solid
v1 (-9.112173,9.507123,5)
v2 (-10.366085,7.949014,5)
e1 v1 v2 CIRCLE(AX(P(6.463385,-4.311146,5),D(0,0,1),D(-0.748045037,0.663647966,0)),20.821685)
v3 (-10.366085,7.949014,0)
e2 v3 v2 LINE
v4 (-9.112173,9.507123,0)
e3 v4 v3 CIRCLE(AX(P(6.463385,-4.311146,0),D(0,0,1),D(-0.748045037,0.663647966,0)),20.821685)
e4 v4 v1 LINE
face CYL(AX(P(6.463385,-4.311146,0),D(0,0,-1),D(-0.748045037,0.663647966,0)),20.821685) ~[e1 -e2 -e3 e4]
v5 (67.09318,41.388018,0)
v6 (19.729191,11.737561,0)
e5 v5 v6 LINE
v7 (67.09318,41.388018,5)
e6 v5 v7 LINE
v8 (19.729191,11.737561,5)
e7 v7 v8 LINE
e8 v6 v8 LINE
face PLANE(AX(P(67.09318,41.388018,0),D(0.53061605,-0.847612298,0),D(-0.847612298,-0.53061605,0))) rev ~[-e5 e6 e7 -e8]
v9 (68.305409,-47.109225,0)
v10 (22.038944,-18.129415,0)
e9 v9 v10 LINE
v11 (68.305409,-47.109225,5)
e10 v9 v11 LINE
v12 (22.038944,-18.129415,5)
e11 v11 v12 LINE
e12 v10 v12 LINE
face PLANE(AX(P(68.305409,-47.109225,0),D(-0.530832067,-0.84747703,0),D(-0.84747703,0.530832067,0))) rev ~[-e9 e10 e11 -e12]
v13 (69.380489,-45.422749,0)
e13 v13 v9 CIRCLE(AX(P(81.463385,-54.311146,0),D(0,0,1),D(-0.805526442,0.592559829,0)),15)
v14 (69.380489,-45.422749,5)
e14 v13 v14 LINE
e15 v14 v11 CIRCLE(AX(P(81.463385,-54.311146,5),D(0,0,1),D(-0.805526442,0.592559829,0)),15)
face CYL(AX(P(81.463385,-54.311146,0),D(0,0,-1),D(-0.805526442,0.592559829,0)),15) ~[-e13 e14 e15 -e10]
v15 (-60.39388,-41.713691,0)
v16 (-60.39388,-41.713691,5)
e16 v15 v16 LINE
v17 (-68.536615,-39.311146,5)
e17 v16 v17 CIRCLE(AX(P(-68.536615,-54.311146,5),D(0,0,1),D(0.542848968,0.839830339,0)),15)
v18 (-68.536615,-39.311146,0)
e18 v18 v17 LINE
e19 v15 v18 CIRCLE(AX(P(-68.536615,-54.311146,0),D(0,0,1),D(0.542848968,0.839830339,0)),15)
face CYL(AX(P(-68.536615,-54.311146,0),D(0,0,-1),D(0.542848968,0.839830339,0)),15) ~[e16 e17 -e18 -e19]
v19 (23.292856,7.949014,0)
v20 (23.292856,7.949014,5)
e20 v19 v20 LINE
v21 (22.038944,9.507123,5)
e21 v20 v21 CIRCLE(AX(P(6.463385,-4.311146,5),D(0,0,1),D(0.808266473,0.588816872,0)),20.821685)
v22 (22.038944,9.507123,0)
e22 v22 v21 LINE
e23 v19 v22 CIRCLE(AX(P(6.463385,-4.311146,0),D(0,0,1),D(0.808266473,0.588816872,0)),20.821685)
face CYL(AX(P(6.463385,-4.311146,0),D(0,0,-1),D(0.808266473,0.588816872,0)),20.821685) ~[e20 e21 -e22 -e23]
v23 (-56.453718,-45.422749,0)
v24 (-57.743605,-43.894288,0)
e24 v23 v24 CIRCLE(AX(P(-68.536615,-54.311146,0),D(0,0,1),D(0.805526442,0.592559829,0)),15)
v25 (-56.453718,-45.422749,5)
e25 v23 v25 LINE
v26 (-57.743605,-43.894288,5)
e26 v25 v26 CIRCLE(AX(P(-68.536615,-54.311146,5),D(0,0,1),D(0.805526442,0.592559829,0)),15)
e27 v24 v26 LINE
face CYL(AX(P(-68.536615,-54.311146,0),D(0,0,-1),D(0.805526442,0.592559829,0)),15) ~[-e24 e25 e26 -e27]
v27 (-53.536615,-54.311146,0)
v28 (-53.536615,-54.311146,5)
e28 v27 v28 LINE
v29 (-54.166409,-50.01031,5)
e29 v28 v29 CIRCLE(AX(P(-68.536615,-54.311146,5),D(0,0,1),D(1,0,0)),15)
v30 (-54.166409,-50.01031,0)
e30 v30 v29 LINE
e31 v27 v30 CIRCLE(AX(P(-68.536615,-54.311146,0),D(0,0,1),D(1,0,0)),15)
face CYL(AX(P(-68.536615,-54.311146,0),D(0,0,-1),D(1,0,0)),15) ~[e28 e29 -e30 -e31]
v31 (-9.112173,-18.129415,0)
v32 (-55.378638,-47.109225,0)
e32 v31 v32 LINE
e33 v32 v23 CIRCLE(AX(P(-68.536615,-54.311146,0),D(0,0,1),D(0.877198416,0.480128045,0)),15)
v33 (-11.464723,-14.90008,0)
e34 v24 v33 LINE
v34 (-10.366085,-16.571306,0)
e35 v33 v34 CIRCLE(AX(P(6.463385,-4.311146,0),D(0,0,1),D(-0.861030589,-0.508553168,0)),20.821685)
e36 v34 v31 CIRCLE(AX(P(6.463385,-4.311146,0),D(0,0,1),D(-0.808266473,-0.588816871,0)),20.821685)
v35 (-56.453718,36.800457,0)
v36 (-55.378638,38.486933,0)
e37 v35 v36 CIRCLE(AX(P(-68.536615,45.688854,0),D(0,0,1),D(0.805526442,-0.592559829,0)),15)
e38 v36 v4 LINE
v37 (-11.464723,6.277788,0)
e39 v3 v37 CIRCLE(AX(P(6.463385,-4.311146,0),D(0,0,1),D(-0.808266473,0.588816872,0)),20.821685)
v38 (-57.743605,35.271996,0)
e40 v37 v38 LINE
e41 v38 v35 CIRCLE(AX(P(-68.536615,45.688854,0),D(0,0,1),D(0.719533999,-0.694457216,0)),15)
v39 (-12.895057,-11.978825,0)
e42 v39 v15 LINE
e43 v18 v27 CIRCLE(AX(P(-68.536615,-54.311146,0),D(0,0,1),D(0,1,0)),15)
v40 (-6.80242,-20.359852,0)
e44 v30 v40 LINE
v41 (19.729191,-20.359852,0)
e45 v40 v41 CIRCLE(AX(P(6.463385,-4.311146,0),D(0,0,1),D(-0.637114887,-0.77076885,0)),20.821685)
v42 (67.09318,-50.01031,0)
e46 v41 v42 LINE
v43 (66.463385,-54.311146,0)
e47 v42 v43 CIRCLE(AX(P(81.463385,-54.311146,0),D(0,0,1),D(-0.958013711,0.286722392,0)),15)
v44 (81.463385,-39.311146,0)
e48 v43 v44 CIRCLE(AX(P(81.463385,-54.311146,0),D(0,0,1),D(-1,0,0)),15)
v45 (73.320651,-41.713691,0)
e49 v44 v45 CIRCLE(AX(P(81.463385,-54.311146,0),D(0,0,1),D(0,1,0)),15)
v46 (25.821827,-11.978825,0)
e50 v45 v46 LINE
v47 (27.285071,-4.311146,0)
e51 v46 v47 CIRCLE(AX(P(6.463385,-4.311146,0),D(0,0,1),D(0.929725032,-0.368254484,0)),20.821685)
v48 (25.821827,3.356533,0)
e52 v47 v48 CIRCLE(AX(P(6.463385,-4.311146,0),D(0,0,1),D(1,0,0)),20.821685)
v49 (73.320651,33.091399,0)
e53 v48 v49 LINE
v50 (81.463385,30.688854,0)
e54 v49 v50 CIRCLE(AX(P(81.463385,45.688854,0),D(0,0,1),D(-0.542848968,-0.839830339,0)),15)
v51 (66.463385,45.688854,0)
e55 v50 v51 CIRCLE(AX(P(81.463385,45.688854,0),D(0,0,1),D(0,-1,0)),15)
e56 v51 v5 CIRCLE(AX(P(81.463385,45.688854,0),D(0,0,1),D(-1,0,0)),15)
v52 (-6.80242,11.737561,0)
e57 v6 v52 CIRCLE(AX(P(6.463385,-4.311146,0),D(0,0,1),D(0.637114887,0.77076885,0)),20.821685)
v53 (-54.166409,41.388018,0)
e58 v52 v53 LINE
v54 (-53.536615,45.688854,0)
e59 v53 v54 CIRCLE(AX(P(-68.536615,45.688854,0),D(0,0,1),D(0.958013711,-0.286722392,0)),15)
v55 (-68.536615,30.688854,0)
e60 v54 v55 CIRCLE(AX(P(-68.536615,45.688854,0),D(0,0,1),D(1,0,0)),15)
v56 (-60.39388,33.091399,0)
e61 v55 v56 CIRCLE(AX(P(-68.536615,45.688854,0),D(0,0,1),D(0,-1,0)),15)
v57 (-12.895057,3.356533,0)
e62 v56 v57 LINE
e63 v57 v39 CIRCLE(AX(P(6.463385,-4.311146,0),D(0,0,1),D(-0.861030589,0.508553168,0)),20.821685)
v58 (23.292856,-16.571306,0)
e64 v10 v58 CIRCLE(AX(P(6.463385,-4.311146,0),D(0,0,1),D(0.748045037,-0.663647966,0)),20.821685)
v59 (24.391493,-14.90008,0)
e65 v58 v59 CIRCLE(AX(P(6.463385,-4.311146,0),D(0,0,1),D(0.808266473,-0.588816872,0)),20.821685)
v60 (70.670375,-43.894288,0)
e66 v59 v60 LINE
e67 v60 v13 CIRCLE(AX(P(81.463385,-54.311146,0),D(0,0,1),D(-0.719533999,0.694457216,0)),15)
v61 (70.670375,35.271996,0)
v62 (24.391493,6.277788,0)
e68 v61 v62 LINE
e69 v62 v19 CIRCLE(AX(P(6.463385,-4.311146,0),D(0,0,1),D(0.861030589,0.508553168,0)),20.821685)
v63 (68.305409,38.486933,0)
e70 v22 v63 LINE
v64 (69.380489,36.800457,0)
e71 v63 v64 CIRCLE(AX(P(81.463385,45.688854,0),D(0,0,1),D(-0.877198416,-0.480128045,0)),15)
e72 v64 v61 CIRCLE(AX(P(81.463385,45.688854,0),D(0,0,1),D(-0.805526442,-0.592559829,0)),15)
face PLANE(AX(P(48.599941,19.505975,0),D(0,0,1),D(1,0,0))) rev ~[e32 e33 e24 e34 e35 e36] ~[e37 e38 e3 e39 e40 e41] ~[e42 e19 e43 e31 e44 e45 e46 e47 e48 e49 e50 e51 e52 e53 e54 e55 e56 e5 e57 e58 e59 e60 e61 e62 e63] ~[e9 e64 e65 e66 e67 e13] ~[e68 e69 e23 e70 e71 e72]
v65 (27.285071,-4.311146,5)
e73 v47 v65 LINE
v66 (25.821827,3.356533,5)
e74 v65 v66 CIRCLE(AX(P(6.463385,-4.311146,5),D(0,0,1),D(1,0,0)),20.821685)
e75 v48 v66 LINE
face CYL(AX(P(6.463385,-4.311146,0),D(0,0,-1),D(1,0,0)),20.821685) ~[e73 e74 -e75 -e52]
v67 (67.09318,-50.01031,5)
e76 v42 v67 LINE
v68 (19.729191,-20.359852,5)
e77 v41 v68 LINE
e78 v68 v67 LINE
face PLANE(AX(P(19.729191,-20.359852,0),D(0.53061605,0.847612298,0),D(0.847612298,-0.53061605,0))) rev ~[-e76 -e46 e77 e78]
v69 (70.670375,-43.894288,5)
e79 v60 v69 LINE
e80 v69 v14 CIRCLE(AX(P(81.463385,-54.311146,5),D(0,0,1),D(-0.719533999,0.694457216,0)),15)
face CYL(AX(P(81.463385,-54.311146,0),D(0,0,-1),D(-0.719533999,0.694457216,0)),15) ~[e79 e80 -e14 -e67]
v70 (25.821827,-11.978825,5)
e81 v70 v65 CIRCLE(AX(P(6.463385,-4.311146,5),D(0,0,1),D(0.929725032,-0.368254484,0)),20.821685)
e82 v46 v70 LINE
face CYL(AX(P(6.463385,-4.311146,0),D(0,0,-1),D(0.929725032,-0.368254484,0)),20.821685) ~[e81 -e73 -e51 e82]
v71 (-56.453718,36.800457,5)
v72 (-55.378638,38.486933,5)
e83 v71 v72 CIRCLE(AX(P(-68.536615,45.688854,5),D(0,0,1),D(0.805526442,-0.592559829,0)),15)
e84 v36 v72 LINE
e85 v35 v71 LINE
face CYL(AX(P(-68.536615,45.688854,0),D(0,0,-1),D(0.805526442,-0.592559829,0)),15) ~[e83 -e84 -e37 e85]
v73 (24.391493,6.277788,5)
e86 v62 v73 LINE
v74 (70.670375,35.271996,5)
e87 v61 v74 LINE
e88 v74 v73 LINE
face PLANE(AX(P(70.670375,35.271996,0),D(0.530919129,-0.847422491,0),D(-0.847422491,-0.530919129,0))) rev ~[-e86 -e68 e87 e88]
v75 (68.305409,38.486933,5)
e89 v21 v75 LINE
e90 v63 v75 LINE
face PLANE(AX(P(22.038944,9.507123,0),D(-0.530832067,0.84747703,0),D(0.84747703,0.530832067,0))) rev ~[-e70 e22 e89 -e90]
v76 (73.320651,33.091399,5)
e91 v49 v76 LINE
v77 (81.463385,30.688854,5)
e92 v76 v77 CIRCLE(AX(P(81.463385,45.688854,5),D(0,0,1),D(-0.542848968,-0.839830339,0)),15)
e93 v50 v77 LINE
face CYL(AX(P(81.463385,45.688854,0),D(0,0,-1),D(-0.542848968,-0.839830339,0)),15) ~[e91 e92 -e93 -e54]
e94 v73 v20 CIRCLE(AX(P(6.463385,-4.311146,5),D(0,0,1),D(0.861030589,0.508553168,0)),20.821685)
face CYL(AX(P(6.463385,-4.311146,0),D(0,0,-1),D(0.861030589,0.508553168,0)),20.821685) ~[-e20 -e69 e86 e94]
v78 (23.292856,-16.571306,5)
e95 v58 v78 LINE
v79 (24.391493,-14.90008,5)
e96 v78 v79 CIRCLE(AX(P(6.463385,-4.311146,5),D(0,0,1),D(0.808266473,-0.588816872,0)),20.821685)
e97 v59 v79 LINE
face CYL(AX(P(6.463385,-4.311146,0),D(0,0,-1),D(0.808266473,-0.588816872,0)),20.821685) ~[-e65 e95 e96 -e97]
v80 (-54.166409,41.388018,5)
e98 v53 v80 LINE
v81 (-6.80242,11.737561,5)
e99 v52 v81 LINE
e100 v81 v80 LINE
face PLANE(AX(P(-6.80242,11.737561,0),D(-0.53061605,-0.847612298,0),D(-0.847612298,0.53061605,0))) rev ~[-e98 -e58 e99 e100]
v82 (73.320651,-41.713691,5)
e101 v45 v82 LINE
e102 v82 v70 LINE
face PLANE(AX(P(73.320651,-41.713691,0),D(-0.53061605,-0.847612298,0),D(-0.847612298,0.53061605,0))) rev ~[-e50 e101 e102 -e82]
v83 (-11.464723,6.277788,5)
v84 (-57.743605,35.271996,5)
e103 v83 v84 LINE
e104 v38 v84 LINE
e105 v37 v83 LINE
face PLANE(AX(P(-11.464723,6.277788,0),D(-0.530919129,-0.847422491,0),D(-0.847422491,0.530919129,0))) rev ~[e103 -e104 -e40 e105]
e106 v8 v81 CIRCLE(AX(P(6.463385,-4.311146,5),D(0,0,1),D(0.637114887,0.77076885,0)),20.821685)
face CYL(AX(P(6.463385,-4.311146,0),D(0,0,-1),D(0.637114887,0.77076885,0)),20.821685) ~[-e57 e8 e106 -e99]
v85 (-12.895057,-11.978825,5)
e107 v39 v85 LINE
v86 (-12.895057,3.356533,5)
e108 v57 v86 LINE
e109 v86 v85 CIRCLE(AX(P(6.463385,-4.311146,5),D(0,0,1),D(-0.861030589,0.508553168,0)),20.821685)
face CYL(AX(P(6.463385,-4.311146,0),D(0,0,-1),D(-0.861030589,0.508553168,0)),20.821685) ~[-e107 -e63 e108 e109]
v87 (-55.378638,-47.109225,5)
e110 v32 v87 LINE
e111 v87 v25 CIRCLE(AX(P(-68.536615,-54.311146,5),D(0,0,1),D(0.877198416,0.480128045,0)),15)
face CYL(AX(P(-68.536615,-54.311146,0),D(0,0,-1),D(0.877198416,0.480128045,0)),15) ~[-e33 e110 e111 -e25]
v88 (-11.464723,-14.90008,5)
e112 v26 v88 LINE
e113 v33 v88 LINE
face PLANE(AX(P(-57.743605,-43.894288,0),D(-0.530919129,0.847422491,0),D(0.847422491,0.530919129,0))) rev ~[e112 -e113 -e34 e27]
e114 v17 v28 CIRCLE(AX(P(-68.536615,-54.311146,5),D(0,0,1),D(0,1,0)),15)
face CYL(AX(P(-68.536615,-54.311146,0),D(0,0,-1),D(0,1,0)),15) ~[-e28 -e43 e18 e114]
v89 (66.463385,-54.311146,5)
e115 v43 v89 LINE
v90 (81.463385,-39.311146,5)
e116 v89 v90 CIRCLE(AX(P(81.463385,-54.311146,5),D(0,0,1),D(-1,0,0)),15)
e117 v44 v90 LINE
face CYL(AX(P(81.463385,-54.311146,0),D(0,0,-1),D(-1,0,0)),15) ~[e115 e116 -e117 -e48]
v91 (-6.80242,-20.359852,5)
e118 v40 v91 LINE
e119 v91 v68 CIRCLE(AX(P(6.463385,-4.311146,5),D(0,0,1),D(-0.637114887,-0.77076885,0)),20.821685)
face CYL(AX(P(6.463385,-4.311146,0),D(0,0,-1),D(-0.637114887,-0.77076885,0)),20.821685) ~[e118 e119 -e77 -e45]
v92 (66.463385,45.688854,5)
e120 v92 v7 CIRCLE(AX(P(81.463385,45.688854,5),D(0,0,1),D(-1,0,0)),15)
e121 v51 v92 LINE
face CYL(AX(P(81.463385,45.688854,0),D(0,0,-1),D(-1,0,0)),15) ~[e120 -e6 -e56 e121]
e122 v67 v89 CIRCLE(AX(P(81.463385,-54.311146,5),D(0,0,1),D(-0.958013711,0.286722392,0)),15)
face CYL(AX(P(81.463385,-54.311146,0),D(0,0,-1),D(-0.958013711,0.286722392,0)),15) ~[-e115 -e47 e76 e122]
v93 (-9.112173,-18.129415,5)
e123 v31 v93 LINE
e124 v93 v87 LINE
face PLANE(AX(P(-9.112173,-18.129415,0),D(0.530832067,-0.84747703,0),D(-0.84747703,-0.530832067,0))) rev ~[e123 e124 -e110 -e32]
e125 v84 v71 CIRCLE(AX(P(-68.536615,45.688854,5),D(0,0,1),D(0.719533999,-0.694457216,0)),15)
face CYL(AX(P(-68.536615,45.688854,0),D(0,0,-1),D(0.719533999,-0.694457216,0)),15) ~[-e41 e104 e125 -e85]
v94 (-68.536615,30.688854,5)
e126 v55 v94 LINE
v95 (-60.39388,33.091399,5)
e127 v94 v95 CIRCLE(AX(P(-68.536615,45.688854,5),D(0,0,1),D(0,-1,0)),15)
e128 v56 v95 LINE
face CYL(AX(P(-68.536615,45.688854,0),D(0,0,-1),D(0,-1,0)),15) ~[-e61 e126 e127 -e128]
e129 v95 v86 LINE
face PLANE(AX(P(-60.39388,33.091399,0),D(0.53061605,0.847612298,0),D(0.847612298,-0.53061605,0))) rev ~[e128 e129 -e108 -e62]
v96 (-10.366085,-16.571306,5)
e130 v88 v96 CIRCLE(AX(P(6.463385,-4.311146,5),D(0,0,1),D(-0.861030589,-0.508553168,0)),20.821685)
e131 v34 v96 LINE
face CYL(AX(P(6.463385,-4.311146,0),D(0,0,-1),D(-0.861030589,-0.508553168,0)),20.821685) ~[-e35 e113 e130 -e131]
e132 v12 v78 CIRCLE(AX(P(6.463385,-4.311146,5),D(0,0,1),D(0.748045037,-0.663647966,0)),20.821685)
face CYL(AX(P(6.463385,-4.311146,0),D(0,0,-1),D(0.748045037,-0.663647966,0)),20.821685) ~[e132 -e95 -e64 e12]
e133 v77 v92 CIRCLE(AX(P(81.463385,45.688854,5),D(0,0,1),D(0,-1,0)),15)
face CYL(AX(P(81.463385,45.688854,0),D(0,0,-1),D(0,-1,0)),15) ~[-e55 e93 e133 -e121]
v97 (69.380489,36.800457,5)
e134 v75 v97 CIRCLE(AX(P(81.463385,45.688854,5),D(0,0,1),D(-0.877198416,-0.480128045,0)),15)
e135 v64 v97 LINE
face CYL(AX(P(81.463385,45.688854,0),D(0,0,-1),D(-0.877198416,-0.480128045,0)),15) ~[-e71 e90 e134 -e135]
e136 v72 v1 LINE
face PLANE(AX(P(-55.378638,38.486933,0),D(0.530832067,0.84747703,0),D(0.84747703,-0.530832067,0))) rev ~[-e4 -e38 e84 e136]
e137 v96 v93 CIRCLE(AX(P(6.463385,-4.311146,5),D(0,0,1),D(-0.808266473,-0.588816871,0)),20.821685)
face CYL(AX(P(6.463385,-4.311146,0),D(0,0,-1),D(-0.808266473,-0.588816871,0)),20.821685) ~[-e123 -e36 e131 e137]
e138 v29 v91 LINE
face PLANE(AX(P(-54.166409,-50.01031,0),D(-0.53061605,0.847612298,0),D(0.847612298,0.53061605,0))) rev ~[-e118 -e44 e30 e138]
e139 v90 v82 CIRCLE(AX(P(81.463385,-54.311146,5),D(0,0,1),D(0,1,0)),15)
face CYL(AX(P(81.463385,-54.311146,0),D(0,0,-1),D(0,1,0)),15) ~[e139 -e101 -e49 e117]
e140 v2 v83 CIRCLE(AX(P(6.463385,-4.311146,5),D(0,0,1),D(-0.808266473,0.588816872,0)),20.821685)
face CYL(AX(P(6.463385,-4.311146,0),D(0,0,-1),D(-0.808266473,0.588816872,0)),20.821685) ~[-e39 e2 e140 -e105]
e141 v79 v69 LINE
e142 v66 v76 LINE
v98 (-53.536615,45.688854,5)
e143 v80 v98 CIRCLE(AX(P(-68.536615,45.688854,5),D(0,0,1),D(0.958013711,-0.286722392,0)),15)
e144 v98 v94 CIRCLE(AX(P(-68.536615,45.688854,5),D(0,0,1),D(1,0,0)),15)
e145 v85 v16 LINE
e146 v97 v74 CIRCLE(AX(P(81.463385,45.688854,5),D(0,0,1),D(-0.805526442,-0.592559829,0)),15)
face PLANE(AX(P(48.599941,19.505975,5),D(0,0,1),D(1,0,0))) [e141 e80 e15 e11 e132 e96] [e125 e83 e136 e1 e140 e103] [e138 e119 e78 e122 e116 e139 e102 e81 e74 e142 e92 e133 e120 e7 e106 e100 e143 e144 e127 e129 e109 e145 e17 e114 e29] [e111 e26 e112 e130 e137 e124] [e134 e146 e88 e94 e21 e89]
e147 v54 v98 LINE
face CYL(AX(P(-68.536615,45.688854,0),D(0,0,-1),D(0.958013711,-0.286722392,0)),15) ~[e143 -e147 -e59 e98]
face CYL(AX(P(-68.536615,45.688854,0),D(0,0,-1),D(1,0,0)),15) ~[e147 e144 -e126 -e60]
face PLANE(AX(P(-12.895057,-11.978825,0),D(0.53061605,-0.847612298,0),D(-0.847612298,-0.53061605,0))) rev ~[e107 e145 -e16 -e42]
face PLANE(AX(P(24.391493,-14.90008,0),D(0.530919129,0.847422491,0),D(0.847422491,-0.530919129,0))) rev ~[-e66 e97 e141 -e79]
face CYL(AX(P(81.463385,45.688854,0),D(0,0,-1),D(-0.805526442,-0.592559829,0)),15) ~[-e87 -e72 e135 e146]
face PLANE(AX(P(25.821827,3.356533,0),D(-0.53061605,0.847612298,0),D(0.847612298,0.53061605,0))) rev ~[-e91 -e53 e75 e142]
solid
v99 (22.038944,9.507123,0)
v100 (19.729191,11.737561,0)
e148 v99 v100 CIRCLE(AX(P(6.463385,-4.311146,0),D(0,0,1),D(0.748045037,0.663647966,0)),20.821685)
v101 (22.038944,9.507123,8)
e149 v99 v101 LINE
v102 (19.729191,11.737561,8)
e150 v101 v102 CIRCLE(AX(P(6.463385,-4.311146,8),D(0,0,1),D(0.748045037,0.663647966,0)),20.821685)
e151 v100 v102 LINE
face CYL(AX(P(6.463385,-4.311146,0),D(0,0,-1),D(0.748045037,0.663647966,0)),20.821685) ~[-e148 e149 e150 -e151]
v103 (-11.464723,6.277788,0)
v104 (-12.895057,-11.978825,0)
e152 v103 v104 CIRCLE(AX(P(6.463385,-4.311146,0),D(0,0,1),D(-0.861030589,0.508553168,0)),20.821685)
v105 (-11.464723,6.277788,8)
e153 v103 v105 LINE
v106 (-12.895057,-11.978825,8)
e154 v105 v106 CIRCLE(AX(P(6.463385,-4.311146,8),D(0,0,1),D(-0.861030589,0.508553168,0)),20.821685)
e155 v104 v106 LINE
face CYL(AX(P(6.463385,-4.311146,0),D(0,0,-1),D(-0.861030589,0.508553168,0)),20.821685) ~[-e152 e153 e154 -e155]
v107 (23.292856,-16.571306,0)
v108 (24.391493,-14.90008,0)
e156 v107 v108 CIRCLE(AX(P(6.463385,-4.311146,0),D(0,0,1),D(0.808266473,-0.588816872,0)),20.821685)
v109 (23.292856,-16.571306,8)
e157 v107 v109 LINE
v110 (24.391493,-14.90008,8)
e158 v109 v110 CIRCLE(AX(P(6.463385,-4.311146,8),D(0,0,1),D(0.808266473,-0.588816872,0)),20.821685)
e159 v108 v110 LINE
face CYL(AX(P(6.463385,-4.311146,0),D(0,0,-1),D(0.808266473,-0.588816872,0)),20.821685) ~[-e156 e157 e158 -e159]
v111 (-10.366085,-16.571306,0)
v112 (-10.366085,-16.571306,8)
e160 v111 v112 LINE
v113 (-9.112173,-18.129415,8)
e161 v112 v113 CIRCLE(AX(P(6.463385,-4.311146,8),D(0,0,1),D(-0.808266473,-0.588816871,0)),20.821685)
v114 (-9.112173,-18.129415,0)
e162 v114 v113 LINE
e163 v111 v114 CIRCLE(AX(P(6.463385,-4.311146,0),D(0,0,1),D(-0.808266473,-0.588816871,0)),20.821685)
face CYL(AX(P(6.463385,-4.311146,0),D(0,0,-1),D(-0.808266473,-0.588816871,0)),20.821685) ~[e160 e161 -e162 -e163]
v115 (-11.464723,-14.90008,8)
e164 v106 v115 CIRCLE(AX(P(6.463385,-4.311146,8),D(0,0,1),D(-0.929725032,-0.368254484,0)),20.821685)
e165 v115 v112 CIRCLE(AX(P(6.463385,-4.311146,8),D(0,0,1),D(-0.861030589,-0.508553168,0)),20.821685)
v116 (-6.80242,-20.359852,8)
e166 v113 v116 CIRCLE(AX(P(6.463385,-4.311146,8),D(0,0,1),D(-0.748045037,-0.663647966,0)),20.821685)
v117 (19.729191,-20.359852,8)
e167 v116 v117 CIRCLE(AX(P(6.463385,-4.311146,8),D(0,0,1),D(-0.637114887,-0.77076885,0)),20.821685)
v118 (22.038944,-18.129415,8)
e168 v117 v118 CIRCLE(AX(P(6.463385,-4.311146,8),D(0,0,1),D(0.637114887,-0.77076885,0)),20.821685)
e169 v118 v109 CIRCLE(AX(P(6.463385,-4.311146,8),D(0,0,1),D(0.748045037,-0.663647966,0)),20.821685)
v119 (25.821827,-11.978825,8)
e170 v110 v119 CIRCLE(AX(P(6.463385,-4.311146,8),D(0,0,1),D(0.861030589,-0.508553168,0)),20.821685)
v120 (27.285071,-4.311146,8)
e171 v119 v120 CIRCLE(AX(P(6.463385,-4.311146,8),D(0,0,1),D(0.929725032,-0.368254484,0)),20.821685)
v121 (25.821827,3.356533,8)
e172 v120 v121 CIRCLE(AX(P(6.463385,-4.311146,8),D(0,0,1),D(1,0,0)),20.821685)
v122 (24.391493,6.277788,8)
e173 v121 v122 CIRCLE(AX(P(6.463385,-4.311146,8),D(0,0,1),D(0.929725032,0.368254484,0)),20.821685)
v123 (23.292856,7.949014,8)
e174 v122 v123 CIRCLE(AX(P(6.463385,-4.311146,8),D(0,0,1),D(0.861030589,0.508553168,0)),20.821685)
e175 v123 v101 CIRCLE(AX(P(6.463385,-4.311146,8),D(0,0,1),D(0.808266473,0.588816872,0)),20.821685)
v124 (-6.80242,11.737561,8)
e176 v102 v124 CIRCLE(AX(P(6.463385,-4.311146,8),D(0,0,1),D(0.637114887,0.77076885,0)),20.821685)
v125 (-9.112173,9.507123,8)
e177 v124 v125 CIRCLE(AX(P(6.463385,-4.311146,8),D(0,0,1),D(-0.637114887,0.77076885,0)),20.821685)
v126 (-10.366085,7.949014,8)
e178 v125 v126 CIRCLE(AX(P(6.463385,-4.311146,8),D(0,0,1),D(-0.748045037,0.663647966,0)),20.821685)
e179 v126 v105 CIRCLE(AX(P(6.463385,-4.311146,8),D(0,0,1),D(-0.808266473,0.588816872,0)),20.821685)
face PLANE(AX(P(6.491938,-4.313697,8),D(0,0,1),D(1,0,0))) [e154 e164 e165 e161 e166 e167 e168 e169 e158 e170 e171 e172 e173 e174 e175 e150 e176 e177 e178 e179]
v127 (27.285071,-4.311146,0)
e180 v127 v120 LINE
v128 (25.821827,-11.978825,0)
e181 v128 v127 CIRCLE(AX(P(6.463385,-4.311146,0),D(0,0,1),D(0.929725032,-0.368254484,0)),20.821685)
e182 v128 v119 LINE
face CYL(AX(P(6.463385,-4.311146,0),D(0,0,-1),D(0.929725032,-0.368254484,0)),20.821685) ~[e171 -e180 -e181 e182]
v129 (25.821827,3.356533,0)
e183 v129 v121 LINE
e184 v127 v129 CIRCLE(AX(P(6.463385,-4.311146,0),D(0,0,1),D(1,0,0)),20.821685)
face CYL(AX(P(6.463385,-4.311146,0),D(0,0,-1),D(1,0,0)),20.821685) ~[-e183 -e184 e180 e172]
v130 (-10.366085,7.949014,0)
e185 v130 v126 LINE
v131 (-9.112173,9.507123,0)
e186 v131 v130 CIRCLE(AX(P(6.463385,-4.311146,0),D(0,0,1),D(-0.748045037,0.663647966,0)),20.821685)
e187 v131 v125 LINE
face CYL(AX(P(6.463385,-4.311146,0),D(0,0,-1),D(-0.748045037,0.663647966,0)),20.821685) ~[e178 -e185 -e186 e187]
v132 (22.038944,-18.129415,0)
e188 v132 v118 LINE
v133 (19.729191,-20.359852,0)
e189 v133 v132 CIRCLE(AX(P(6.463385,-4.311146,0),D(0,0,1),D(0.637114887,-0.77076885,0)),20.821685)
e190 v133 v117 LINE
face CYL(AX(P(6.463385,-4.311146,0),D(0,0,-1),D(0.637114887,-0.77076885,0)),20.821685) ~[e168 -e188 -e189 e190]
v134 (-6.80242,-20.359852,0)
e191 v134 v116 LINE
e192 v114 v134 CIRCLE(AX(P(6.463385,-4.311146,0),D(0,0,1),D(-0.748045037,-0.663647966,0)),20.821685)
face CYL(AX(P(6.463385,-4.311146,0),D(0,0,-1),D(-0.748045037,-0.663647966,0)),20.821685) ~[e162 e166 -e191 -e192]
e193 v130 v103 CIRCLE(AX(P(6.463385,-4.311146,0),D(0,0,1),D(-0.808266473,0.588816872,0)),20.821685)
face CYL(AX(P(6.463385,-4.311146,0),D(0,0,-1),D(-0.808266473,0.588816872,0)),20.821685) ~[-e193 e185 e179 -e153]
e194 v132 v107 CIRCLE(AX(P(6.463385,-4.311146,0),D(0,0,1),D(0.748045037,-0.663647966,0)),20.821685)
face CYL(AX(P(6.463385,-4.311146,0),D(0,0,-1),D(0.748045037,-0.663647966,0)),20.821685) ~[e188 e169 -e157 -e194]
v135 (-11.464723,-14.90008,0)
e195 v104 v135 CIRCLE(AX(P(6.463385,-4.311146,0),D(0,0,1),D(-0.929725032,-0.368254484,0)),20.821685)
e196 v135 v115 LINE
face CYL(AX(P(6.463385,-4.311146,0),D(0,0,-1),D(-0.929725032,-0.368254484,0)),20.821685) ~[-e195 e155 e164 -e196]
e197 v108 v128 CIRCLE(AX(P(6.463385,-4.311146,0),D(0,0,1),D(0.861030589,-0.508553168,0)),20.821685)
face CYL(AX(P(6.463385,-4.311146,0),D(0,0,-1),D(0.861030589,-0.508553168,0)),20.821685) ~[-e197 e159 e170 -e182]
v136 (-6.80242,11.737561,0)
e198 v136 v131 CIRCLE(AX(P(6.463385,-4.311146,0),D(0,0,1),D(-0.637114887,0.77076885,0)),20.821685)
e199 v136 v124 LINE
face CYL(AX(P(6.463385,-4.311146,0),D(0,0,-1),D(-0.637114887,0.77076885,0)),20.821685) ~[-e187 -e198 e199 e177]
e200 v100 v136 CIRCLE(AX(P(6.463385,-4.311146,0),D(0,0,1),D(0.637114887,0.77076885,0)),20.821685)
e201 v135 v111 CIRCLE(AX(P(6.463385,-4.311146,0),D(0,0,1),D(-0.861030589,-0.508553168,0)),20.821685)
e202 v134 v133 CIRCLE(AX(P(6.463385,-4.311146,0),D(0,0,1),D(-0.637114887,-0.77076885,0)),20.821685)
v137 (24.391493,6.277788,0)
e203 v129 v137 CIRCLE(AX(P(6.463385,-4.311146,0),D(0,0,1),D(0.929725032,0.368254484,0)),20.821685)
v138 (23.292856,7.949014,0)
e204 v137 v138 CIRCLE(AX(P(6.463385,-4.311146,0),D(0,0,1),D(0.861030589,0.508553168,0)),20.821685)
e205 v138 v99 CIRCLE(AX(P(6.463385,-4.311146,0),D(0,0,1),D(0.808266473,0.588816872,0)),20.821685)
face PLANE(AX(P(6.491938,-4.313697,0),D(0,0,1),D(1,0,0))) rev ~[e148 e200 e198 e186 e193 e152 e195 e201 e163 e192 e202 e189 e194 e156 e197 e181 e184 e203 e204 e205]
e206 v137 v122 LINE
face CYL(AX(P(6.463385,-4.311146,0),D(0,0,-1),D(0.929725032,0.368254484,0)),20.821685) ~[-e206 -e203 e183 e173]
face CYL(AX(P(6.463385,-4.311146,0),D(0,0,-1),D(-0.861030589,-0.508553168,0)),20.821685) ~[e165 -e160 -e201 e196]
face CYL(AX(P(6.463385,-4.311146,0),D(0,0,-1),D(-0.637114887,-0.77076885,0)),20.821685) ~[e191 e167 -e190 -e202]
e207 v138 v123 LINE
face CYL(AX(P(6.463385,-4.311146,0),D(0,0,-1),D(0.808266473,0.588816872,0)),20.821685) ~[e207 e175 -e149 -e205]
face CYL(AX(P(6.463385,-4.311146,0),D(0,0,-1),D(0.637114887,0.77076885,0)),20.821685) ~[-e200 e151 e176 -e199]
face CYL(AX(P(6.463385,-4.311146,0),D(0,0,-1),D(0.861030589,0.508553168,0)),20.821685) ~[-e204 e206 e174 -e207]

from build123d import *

# Parameters (mm, degrees)
F1_DEPTH = 8
F2_DEPTH = 5


with BuildPart() as f1:
    # F0 (on Top) → F1 (new body)
    with BuildSketch(Plane.XY):
        with BuildLine():
            ThreePointArc((25.8218274264, -11.9788249413), (26.9159887383, -8.214169835), (27.285070702, -4.3111459369))
            ThreePointArc((27.285070702, -4.3111459369), (26.9159887383, -0.4081220387), (25.8218274264, 3.3565330675))
            ThreePointArc((25.8218274264, 3.3565330675), (25.163790077, 4.8451330019), (24.3914933518, 6.2777881196))
            ThreePointArc((24.3914933518, 6.2777881196), (23.8622519529, 7.1265995546), (23.2928555336, 7.9490137011))
            ThreePointArc((23.2928555336, 7.9490137011), (22.6846182097, 8.7431325011), (22.0389437384, 9.5071231998))
            ThreePointArc((22.0389437384, 9.5071231998), (20.9271256495, 10.6669312969), (19.7291910596, 11.7375605526))
            ThreePointArc((19.7291910596, 11.7375605526), (6.463385336, 16.5105394291), (-6.8024203875, 11.7375605526))
            ThreePointArc((-6.8024203875, 11.7375605526), (-8.0003549775, 10.6669312969), (-9.1121730663, 9.5071231998))
            ThreePointArc((-9.1121730663, 9.5071231998), (-9.7578475377, 8.7431325011), (-10.3660848615, 7.9490137011))
            ThreePointArc((-10.3660848615, 7.9490137011), (-10.9354812808, 7.1265995546), (-11.4647226798, 6.2777881196))
            ThreePointArc((-11.4647226798, 6.2777881196), (-12.2370194049, 4.8451330019), (-12.8950567543, 3.3565330675))
            ThreePointArc((-12.8950567543, 3.3565330675), (-14.3583000299, -4.3111459369), (-12.8950567543, -11.9788249413))
            ThreePointArc((-12.8950567543, -11.9788249413), (-12.2370194049, -13.4674248757), (-11.4647226798, -14.9000799934))
            ThreePointArc((-11.4647226798, -14.9000799934), (-10.9354812808, -15.7488914284), (-10.3660848615, -16.5713055749))
            ThreePointArc((-10.3660848615, -16.5713055749), (-9.7578475377, -17.3654243749), (-9.1121730663, -18.1294150736))
            ThreePointArc((-9.1121730663, -18.1294150736), (-8.0003549775, -19.2892231707), (-6.8024203875, -20.3598524263))
            ThreePointArc((-6.8024203875, -20.3598524263), (6.463385336, -25.1328313029), (19.7291910596, -20.3598524263))
            ThreePointArc((19.7291910596, -20.3598524263), (20.9271256495, -19.2892231707), (22.0389437384, -18.1294150736))
            ThreePointArc((22.0389437384, -18.1294150736), (22.6846182097, -17.3654243749), (23.2928555336, -16.5713055749))
            ThreePointArc((23.2928555336, -16.5713055749), (23.8622519529, -15.7488914284), (24.3914933518, -14.9000799934))
            ThreePointArc((24.3914933518, -14.9000799934), (25.163790077, -13.4674248757), (25.8218274264, -11.9788249413))
        make_face()
    extrude(amount=F1_DEPTH)


with BuildPart() as f2:
    # F0 (on Top) → F2 (new body)
    with BuildSketch(Plane.XY):
        with BuildLine():
            ThreePointArc((24.3914933518, 6.2777881196), (25.163790077, 4.8451330019), (25.8218274264, 3.3565330675))
            Line((25.8218274264, 3.3565330675), (73.3206508225, 33.0913989772))
            ThreePointArc((73.3206508225, 33.0913989772), (71.9329417181, 34.105648788), (70.6703753539, 35.2719958263))
            Line((70.6703753539, 35.2719958263), (24.3914933518, 6.2777881196))
        make_face()
        with BuildLine():
            ThreePointArc((19.7291910596, 11.7375605526), (20.9271256495, 10.6669312969), (22.0389437384, 9.5071231998))
            Line((22.0389437384, 9.5071231998), (68.3054091022, 38.4869333867))
            ThreePointArc((68.3054091022, 38.4869333867), (67.6230720145, 39.9056259712), (67.0931796762, 41.38801818))
            Line((67.0931796762, 41.38801818), (19.7291910596, 11.7375605526))
        make_face()
        with BuildLine():
            Line((81.463385336, 38.1888540631), (81.463385336, 30.6888540631))
            ThreePointArc((81.463385336, 30.6888540631), (92.0699870538, 35.0822523453), (96.463385336, 45.6888540631))
            ThreePointArc((96.463385336, 45.6888540631), (81.463385336, 60.6888540631), (66.463385336, 45.6888540631))
            Line((66.463385336, 45.6888540631), (73.963385336, 45.6888540631))
            Line((73.963385336, 45.6888540631), (81.463385336, 45.6888540631))
            Line((81.463385336, 45.6888540631), (81.463385336, 38.1888540631))
        make_face()
        with BuildLine():
            ThreePointArc((70.6703753539, 35.2719958263), (71.9329417181, 34.105648788), (73.3206508225, 33.0913989772))
            Line((73.3206508225, 33.0913989772), (81.463385336, 38.1888540631))
            Line((81.463385336, 38.1888540631), (81.463385336, 45.6888540631))
            Line((81.463385336, 45.6888540631), (73.963385336, 45.6888540631))
            Line((73.963385336, 45.6888540631), (67.0931796762, 41.38801818))
            ThreePointArc((67.0931796762, 41.38801818), (67.6230720145, 39.9056259712), (68.3054091022, 38.4869333867))
            ThreePointArc((68.3054091022, 38.4869333867), (68.8148096557, 37.6257570614), (69.3804887024, 36.8004566293))
            ThreePointArc((69.3804887024, 36.8004566293), (69.9999293135, 36.0147041769), (70.6703753539, 35.2719958263))
        make_face()
        with BuildLine():
            Line((81.463385336, 38.1888540631), (73.3206508225, 33.0913989772))
            ThreePointArc((73.3206508225, 33.0913989772), (77.2184958374, 31.3020228225), (81.463385336, 30.6888540631))
            Line((81.463385336, 30.6888540631), (81.463385336, 38.1888540631))
        make_face()
        with BuildLine():
            Line((73.963385336, 45.6888540631), (66.463385336, 45.6888540631))
            ThreePointArc((66.463385336, 45.6888540631), (66.6216690455, 43.5155023771), (67.0931796762, 41.38801818))
            Line((67.0931796762, 41.38801818), (73.963385336, 45.6888540631))
        make_face()
        with BuildLine():
            Line((-61.036614664, 45.6888540631), (-53.536614664, 45.6888540631))
            ThreePointArc((-53.536614664, 45.6888540631), (-79.1432163818, 56.2954557809), (-68.536614664, 30.6888540631))
            Line((-68.536614664, 30.6888540631), (-68.536614664, 38.1888540631))
            Line((-68.536614664, 38.1888540631), (-68.536614664, 45.6888540631))
            Line((-68.536614664, 45.6888540631), (-61.036614664, 45.6888540631))
        make_face()
        with BuildLine():
            ThreePointArc((-55.3786384301, 38.4869333867), (-54.6963013425, 39.9056259712), (-54.1664090041, 41.38801818))
            Line((-54.1664090041, 41.38801818), (-61.036614664, 45.6888540631))
            Line((-61.036614664, 45.6888540631), (-68.536614664, 45.6888540631))
            Line((-68.536614664, 45.6888540631), (-68.536614664, 38.1888540631))
            Line((-68.536614664, 38.1888540631), (-60.3938801505, 33.0913989772))
            ThreePointArc((-60.3938801505, 33.0913989772), (-59.006171046, 34.105648788), (-57.7436046819, 35.2719958263))
            ThreePointArc((-57.7436046819, 35.2719958263), (-57.0731586415, 36.0147041769), (-56.4537180304, 36.8004566293))
            ThreePointArc((-56.4537180304, 36.8004566293), (-55.8880389836, 37.6257570614), (-55.3786384301, 38.4869333867))
        make_face()
        with BuildLine():
            ThreePointArc((-54.1664090041, 41.38801818), (-53.6948983734, 43.5155023771), (-53.536614664, 45.6888540631))
            Line((-53.536614664, 45.6888540631), (-61.036614664, 45.6888540631))
            Line((-61.036614664, 45.6888540631), (-54.1664090041, 41.38801818))
        make_face()
        with BuildLine():
            Line((-68.536614664, 38.1888540631), (-68.536614664, 30.6888540631))
            ThreePointArc((-68.536614664, 30.6888540631), (-64.2917251654, 31.3020228225), (-60.3938801505, 33.0913989772))
            Line((-60.3938801505, 33.0913989772), (-68.536614664, 38.1888540631))
        make_face()
        with BuildLine():
            ThreePointArc((-57.7436046819, 35.2719958263), (-59.006171046, 34.105648788), (-60.3938801505, 33.0913989772))
            Line((-60.3938801505, 33.0913989772), (-12.8950567543, 3.3565330675))
            ThreePointArc((-12.8950567543, 3.3565330675), (-12.2370194049, 4.8451330019), (-11.4647226798, 6.2777881196))
            Line((-11.4647226798, 6.2777881196), (-57.7436046819, 35.2719958263))
        make_face()
        with BuildLine():
            ThreePointArc((-9.1121730663, 9.5071231998), (-8.0003549775, 10.6669312969), (-6.8024203875, 11.7375605526))
            Line((-6.8024203875, 11.7375605526), (-54.1664090041, 41.38801818))
            ThreePointArc((-54.1664090041, 41.38801818), (-54.6963013425, 39.9056259712), (-55.3786384301, 38.4869333867))
            Line((-55.3786384301, 38.4869333867), (-9.1121730663, 9.5071231998))
        make_face()
        with BuildLine():
            ThreePointArc((25.8218274264, -11.9788249413), (26.9159887383, -8.214169835), (27.285070702, -4.3111459369))
            ThreePointArc((27.285070702, -4.3111459369), (26.9159887383, -0.4081220387), (25.8218274264, 3.3565330675))
            ThreePointArc((25.8218274264, 3.3565330675), (25.163790077, 4.8451330019), (24.3914933518, 6.2777881196))
            ThreePointArc((24.3914933518, 6.2777881196), (23.8622519529, 7.1265995546), (23.2928555336, 7.9490137011))
            ThreePointArc((23.2928555336, 7.9490137011), (22.6846182097, 8.7431325011), (22.0389437384, 9.5071231998))
            ThreePointArc((22.0389437384, 9.5071231998), (20.9271256495, 10.6669312969), (19.7291910596, 11.7375605526))
            ThreePointArc((19.7291910596, 11.7375605526), (6.463385336, 16.5105394291), (-6.8024203875, 11.7375605526))
            ThreePointArc((-6.8024203875, 11.7375605526), (-8.0003549775, 10.6669312969), (-9.1121730663, 9.5071231998))
            ThreePointArc((-9.1121730663, 9.5071231998), (-9.7578475377, 8.7431325011), (-10.3660848615, 7.9490137011))
            ThreePointArc((-10.3660848615, 7.9490137011), (-10.9354812808, 7.1265995546), (-11.4647226798, 6.2777881196))
            ThreePointArc((-11.4647226798, 6.2777881196), (-12.2370194049, 4.8451330019), (-12.8950567543, 3.3565330675))
            ThreePointArc((-12.8950567543, 3.3565330675), (-14.3583000299, -4.3111459369), (-12.8950567543, -11.9788249413))
            ThreePointArc((-12.8950567543, -11.9788249413), (-12.2370194049, -13.4674248757), (-11.4647226798, -14.9000799934))
            ThreePointArc((-11.4647226798, -14.9000799934), (-10.9354812808, -15.7488914284), (-10.3660848615, -16.5713055749))
            ThreePointArc((-10.3660848615, -16.5713055749), (-9.7578475377, -17.3654243749), (-9.1121730663, -18.1294150736))
            ThreePointArc((-9.1121730663, -18.1294150736), (-8.0003549775, -19.2892231707), (-6.8024203875, -20.3598524263))
            ThreePointArc((-6.8024203875, -20.3598524263), (6.463385336, -25.1328313029), (19.7291910596, -20.3598524263))
            ThreePointArc((19.7291910596, -20.3598524263), (20.9271256495, -19.2892231707), (22.0389437384, -18.1294150736))
            ThreePointArc((22.0389437384, -18.1294150736), (22.6846182097, -17.3654243749), (23.2928555336, -16.5713055749))
            ThreePointArc((23.2928555336, -16.5713055749), (23.8622519529, -15.7488914284), (24.3914933518, -14.9000799934))
            ThreePointArc((24.3914933518, -14.9000799934), (25.163790077, -13.4674248757), (25.8218274264, -11.9788249413))
        make_face()
        with BuildLine():
            Line((-12.8950567543, -11.9788249413), (-60.3938801505, -41.7136908509))
            ThreePointArc((-60.3938801505, -41.7136908509), (-59.006171046, -42.7279406618), (-57.7436046819, -43.8942877001))
            Line((-57.7436046819, -43.8942877001), (-11.4647226798, -14.9000799934))
            ThreePointArc((-11.4647226798, -14.9000799934), (-12.2370194049, -13.4674248757), (-12.8950567543, -11.9788249413))
        make_face()
        with BuildLine():
            Line((-54.1664090041, -50.0103100538), (-6.8024203875, -20.3598524263))
            ThreePointArc((-6.8024203875, -20.3598524263), (-8.0003549775, -19.2892231707), (-9.1121730663, -18.1294150736))
            Line((-9.1121730663, -18.1294150736), (-55.3786384301, -47.1092252605))
            ThreePointArc((-55.3786384301, -47.1092252605), (-54.6963013425, -48.527917845), (-54.1664090041, -50.0103100538))
        make_face()
        with BuildLine():
            Line((68.3054091022, -47.1092252605), (22.0389437384, -18.1294150736))
            ThreePointArc((22.0389437384, -18.1294150736), (20.9271256495, -19.2892231707), (19.7291910596, -20.3598524263))
            Line((19.7291910596, -20.3598524263), (67.0931796762, -50.0103100538))
            ThreePointArc((67.0931796762, -50.0103100538), (67.6230720145, -48.527917845), (68.3054091022, -47.1092252605))
        make_face()
        with BuildLine():
            Line((73.3206508225, -41.713690851), (25.8218274264, -11.9788249413))
            ThreePointArc((25.8218274264, -11.9788249413), (25.163790077, -13.4674248757), (24.3914933518, -14.9000799934))
            Line((24.3914933518, -14.9000799934), (70.6703753539, -43.8942877001))
            ThreePointArc((70.6703753539, -43.8942877001), (71.9329417181, -42.7279406618), (73.3206508225, -41.7136908509))
        make_face()
        with BuildLine():
            ThreePointArc((96.463385336, -54.3111459369), (92.0699870538, -43.7045442191), (81.463385336, -39.3111459369))
            Line((81.463385336, -39.3111459369), (81.463385336, -46.8111459369))
            Line((81.463385336, -46.8111459369), (81.463385336, -54.3111459369))
            Line((81.463385336, -54.3111459369), (73.963385336, -54.3111459369))
            Line((73.963385336, -54.3111459369), (66.463385336, -54.3111459369))
            ThreePointArc((66.463385336, -54.3111459369), (81.463385336, -69.3111459369), (96.463385336, -54.3111459369))
        make_face()
        with BuildLine():
            Line((81.463385336, -46.8111459369), (73.3206508225, -41.713690851))
            ThreePointArc((73.3206508225, -41.7136908509), (71.9329417181, -42.7279406618), (70.6703753539, -43.8942877001))
            ThreePointArc((70.6703753539, -43.8942877001), (69.9999293135, -44.6369960507), (69.3804887024, -45.4227485031))
            ThreePointArc((69.3804887024, -45.4227485031), (68.8148096557, -46.2480489352), (68.3054091022, -47.1092252605))
            ThreePointArc((68.3054091022, -47.1092252605), (67.6230720145, -48.527917845), (67.0931796762, -50.0103100538))
            Line((67.0931796762, -50.0103100538), (73.963385336, -54.3111459369))
            Line((73.963385336, -54.3111459369), (81.463385336, -54.3111459369))
            Line((81.463385336, -54.3111459369), (81.463385336, -46.8111459369))
        make_face()
        with BuildLine():
            ThreePointArc((81.463385336, -39.3111459369), (77.2184958374, -39.9243146963), (73.3206508225, -41.7136908509))
            Line((73.3206508225, -41.713690851), (81.463385336, -46.8111459369))
            Line((81.463385336, -46.8111459369), (81.463385336, -39.3111459369))
        make_face()
        with BuildLine():
            ThreePointArc((67.0931796762, -50.0103100538), (66.6216690455, -52.1377942509), (66.463385336, -54.3111459369))
            Line((66.463385336, -54.3111459369), (73.963385336, -54.3111459369))
            Line((73.963385336, -54.3111459369), (67.0931796762, -50.0103100538))
        make_face()
        with BuildLine():
            ThreePointArc((-68.536614664, -39.3111459369), (-79.1432163818, -64.9177476547), (-53.536614664, -54.3111459369))
            Line((-53.536614664, -54.3111459369), (-61.036614664, -54.3111459369))
            Line((-61.036614664, -54.3111459369), (-68.536614664, -54.3111459369))
            Line((-68.536614664, -54.3111459369), (-68.536614664, -46.8111459369))
            Line((-68.536614664, -46.8111459369), (-68.536614664, -39.3111459369))
        make_face()
        with BuildLine():
            Line((-61.036614664, -54.3111459369), (-54.1664090041, -50.0103100538))
            ThreePointArc((-54.1664090041, -50.0103100538), (-54.6963013425, -48.527917845), (-55.3786384301, -47.1092252605))
            ThreePointArc((-55.3786384301, -47.1092252605), (-55.8880389836, -46.2480489352), (-56.4537180304, -45.4227485031))
            ThreePointArc((-56.4537180304, -45.4227485031), (-57.0731586415, -44.6369960507), (-57.7436046819, -43.8942877001))
            ThreePointArc((-57.7436046819, -43.8942877001), (-59.006171046, -42.7279406618), (-60.3938801505, -41.7136908509))
            Line((-60.3938801505, -41.7136908509), (-68.536614664, -46.8111459369))
            Line((-68.536614664, -46.8111459369), (-68.536614664, -54.3111459369))
            Line((-68.536614664, -54.3111459369), (-61.036614664, -54.3111459369))
        make_face()
        with BuildLine():
            ThreePointArc((-60.3938801505, -41.7136908509), (-64.2917251654, -39.9243146963), (-68.536614664, -39.3111459369))
            Line((-68.536614664, -39.3111459369), (-68.536614664, -46.8111459369))
            Line((-68.536614664, -46.8111459369), (-60.3938801505, -41.7136908509))
        make_face()
        with BuildLine():
            Line((-61.036614664, -54.3111459369), (-53.536614664, -54.3111459369))
            ThreePointArc((-53.536614664, -54.3111459369), (-53.6948983734, -52.1377942509), (-54.1664090041, -50.0103100538))
            Line((-54.1664090041, -50.0103100538), (-61.036614664, -54.3111459369))
        make_face()
    extrude(amount=F2_DEPTH)


solid = Compound([f1.part, f2.part])
